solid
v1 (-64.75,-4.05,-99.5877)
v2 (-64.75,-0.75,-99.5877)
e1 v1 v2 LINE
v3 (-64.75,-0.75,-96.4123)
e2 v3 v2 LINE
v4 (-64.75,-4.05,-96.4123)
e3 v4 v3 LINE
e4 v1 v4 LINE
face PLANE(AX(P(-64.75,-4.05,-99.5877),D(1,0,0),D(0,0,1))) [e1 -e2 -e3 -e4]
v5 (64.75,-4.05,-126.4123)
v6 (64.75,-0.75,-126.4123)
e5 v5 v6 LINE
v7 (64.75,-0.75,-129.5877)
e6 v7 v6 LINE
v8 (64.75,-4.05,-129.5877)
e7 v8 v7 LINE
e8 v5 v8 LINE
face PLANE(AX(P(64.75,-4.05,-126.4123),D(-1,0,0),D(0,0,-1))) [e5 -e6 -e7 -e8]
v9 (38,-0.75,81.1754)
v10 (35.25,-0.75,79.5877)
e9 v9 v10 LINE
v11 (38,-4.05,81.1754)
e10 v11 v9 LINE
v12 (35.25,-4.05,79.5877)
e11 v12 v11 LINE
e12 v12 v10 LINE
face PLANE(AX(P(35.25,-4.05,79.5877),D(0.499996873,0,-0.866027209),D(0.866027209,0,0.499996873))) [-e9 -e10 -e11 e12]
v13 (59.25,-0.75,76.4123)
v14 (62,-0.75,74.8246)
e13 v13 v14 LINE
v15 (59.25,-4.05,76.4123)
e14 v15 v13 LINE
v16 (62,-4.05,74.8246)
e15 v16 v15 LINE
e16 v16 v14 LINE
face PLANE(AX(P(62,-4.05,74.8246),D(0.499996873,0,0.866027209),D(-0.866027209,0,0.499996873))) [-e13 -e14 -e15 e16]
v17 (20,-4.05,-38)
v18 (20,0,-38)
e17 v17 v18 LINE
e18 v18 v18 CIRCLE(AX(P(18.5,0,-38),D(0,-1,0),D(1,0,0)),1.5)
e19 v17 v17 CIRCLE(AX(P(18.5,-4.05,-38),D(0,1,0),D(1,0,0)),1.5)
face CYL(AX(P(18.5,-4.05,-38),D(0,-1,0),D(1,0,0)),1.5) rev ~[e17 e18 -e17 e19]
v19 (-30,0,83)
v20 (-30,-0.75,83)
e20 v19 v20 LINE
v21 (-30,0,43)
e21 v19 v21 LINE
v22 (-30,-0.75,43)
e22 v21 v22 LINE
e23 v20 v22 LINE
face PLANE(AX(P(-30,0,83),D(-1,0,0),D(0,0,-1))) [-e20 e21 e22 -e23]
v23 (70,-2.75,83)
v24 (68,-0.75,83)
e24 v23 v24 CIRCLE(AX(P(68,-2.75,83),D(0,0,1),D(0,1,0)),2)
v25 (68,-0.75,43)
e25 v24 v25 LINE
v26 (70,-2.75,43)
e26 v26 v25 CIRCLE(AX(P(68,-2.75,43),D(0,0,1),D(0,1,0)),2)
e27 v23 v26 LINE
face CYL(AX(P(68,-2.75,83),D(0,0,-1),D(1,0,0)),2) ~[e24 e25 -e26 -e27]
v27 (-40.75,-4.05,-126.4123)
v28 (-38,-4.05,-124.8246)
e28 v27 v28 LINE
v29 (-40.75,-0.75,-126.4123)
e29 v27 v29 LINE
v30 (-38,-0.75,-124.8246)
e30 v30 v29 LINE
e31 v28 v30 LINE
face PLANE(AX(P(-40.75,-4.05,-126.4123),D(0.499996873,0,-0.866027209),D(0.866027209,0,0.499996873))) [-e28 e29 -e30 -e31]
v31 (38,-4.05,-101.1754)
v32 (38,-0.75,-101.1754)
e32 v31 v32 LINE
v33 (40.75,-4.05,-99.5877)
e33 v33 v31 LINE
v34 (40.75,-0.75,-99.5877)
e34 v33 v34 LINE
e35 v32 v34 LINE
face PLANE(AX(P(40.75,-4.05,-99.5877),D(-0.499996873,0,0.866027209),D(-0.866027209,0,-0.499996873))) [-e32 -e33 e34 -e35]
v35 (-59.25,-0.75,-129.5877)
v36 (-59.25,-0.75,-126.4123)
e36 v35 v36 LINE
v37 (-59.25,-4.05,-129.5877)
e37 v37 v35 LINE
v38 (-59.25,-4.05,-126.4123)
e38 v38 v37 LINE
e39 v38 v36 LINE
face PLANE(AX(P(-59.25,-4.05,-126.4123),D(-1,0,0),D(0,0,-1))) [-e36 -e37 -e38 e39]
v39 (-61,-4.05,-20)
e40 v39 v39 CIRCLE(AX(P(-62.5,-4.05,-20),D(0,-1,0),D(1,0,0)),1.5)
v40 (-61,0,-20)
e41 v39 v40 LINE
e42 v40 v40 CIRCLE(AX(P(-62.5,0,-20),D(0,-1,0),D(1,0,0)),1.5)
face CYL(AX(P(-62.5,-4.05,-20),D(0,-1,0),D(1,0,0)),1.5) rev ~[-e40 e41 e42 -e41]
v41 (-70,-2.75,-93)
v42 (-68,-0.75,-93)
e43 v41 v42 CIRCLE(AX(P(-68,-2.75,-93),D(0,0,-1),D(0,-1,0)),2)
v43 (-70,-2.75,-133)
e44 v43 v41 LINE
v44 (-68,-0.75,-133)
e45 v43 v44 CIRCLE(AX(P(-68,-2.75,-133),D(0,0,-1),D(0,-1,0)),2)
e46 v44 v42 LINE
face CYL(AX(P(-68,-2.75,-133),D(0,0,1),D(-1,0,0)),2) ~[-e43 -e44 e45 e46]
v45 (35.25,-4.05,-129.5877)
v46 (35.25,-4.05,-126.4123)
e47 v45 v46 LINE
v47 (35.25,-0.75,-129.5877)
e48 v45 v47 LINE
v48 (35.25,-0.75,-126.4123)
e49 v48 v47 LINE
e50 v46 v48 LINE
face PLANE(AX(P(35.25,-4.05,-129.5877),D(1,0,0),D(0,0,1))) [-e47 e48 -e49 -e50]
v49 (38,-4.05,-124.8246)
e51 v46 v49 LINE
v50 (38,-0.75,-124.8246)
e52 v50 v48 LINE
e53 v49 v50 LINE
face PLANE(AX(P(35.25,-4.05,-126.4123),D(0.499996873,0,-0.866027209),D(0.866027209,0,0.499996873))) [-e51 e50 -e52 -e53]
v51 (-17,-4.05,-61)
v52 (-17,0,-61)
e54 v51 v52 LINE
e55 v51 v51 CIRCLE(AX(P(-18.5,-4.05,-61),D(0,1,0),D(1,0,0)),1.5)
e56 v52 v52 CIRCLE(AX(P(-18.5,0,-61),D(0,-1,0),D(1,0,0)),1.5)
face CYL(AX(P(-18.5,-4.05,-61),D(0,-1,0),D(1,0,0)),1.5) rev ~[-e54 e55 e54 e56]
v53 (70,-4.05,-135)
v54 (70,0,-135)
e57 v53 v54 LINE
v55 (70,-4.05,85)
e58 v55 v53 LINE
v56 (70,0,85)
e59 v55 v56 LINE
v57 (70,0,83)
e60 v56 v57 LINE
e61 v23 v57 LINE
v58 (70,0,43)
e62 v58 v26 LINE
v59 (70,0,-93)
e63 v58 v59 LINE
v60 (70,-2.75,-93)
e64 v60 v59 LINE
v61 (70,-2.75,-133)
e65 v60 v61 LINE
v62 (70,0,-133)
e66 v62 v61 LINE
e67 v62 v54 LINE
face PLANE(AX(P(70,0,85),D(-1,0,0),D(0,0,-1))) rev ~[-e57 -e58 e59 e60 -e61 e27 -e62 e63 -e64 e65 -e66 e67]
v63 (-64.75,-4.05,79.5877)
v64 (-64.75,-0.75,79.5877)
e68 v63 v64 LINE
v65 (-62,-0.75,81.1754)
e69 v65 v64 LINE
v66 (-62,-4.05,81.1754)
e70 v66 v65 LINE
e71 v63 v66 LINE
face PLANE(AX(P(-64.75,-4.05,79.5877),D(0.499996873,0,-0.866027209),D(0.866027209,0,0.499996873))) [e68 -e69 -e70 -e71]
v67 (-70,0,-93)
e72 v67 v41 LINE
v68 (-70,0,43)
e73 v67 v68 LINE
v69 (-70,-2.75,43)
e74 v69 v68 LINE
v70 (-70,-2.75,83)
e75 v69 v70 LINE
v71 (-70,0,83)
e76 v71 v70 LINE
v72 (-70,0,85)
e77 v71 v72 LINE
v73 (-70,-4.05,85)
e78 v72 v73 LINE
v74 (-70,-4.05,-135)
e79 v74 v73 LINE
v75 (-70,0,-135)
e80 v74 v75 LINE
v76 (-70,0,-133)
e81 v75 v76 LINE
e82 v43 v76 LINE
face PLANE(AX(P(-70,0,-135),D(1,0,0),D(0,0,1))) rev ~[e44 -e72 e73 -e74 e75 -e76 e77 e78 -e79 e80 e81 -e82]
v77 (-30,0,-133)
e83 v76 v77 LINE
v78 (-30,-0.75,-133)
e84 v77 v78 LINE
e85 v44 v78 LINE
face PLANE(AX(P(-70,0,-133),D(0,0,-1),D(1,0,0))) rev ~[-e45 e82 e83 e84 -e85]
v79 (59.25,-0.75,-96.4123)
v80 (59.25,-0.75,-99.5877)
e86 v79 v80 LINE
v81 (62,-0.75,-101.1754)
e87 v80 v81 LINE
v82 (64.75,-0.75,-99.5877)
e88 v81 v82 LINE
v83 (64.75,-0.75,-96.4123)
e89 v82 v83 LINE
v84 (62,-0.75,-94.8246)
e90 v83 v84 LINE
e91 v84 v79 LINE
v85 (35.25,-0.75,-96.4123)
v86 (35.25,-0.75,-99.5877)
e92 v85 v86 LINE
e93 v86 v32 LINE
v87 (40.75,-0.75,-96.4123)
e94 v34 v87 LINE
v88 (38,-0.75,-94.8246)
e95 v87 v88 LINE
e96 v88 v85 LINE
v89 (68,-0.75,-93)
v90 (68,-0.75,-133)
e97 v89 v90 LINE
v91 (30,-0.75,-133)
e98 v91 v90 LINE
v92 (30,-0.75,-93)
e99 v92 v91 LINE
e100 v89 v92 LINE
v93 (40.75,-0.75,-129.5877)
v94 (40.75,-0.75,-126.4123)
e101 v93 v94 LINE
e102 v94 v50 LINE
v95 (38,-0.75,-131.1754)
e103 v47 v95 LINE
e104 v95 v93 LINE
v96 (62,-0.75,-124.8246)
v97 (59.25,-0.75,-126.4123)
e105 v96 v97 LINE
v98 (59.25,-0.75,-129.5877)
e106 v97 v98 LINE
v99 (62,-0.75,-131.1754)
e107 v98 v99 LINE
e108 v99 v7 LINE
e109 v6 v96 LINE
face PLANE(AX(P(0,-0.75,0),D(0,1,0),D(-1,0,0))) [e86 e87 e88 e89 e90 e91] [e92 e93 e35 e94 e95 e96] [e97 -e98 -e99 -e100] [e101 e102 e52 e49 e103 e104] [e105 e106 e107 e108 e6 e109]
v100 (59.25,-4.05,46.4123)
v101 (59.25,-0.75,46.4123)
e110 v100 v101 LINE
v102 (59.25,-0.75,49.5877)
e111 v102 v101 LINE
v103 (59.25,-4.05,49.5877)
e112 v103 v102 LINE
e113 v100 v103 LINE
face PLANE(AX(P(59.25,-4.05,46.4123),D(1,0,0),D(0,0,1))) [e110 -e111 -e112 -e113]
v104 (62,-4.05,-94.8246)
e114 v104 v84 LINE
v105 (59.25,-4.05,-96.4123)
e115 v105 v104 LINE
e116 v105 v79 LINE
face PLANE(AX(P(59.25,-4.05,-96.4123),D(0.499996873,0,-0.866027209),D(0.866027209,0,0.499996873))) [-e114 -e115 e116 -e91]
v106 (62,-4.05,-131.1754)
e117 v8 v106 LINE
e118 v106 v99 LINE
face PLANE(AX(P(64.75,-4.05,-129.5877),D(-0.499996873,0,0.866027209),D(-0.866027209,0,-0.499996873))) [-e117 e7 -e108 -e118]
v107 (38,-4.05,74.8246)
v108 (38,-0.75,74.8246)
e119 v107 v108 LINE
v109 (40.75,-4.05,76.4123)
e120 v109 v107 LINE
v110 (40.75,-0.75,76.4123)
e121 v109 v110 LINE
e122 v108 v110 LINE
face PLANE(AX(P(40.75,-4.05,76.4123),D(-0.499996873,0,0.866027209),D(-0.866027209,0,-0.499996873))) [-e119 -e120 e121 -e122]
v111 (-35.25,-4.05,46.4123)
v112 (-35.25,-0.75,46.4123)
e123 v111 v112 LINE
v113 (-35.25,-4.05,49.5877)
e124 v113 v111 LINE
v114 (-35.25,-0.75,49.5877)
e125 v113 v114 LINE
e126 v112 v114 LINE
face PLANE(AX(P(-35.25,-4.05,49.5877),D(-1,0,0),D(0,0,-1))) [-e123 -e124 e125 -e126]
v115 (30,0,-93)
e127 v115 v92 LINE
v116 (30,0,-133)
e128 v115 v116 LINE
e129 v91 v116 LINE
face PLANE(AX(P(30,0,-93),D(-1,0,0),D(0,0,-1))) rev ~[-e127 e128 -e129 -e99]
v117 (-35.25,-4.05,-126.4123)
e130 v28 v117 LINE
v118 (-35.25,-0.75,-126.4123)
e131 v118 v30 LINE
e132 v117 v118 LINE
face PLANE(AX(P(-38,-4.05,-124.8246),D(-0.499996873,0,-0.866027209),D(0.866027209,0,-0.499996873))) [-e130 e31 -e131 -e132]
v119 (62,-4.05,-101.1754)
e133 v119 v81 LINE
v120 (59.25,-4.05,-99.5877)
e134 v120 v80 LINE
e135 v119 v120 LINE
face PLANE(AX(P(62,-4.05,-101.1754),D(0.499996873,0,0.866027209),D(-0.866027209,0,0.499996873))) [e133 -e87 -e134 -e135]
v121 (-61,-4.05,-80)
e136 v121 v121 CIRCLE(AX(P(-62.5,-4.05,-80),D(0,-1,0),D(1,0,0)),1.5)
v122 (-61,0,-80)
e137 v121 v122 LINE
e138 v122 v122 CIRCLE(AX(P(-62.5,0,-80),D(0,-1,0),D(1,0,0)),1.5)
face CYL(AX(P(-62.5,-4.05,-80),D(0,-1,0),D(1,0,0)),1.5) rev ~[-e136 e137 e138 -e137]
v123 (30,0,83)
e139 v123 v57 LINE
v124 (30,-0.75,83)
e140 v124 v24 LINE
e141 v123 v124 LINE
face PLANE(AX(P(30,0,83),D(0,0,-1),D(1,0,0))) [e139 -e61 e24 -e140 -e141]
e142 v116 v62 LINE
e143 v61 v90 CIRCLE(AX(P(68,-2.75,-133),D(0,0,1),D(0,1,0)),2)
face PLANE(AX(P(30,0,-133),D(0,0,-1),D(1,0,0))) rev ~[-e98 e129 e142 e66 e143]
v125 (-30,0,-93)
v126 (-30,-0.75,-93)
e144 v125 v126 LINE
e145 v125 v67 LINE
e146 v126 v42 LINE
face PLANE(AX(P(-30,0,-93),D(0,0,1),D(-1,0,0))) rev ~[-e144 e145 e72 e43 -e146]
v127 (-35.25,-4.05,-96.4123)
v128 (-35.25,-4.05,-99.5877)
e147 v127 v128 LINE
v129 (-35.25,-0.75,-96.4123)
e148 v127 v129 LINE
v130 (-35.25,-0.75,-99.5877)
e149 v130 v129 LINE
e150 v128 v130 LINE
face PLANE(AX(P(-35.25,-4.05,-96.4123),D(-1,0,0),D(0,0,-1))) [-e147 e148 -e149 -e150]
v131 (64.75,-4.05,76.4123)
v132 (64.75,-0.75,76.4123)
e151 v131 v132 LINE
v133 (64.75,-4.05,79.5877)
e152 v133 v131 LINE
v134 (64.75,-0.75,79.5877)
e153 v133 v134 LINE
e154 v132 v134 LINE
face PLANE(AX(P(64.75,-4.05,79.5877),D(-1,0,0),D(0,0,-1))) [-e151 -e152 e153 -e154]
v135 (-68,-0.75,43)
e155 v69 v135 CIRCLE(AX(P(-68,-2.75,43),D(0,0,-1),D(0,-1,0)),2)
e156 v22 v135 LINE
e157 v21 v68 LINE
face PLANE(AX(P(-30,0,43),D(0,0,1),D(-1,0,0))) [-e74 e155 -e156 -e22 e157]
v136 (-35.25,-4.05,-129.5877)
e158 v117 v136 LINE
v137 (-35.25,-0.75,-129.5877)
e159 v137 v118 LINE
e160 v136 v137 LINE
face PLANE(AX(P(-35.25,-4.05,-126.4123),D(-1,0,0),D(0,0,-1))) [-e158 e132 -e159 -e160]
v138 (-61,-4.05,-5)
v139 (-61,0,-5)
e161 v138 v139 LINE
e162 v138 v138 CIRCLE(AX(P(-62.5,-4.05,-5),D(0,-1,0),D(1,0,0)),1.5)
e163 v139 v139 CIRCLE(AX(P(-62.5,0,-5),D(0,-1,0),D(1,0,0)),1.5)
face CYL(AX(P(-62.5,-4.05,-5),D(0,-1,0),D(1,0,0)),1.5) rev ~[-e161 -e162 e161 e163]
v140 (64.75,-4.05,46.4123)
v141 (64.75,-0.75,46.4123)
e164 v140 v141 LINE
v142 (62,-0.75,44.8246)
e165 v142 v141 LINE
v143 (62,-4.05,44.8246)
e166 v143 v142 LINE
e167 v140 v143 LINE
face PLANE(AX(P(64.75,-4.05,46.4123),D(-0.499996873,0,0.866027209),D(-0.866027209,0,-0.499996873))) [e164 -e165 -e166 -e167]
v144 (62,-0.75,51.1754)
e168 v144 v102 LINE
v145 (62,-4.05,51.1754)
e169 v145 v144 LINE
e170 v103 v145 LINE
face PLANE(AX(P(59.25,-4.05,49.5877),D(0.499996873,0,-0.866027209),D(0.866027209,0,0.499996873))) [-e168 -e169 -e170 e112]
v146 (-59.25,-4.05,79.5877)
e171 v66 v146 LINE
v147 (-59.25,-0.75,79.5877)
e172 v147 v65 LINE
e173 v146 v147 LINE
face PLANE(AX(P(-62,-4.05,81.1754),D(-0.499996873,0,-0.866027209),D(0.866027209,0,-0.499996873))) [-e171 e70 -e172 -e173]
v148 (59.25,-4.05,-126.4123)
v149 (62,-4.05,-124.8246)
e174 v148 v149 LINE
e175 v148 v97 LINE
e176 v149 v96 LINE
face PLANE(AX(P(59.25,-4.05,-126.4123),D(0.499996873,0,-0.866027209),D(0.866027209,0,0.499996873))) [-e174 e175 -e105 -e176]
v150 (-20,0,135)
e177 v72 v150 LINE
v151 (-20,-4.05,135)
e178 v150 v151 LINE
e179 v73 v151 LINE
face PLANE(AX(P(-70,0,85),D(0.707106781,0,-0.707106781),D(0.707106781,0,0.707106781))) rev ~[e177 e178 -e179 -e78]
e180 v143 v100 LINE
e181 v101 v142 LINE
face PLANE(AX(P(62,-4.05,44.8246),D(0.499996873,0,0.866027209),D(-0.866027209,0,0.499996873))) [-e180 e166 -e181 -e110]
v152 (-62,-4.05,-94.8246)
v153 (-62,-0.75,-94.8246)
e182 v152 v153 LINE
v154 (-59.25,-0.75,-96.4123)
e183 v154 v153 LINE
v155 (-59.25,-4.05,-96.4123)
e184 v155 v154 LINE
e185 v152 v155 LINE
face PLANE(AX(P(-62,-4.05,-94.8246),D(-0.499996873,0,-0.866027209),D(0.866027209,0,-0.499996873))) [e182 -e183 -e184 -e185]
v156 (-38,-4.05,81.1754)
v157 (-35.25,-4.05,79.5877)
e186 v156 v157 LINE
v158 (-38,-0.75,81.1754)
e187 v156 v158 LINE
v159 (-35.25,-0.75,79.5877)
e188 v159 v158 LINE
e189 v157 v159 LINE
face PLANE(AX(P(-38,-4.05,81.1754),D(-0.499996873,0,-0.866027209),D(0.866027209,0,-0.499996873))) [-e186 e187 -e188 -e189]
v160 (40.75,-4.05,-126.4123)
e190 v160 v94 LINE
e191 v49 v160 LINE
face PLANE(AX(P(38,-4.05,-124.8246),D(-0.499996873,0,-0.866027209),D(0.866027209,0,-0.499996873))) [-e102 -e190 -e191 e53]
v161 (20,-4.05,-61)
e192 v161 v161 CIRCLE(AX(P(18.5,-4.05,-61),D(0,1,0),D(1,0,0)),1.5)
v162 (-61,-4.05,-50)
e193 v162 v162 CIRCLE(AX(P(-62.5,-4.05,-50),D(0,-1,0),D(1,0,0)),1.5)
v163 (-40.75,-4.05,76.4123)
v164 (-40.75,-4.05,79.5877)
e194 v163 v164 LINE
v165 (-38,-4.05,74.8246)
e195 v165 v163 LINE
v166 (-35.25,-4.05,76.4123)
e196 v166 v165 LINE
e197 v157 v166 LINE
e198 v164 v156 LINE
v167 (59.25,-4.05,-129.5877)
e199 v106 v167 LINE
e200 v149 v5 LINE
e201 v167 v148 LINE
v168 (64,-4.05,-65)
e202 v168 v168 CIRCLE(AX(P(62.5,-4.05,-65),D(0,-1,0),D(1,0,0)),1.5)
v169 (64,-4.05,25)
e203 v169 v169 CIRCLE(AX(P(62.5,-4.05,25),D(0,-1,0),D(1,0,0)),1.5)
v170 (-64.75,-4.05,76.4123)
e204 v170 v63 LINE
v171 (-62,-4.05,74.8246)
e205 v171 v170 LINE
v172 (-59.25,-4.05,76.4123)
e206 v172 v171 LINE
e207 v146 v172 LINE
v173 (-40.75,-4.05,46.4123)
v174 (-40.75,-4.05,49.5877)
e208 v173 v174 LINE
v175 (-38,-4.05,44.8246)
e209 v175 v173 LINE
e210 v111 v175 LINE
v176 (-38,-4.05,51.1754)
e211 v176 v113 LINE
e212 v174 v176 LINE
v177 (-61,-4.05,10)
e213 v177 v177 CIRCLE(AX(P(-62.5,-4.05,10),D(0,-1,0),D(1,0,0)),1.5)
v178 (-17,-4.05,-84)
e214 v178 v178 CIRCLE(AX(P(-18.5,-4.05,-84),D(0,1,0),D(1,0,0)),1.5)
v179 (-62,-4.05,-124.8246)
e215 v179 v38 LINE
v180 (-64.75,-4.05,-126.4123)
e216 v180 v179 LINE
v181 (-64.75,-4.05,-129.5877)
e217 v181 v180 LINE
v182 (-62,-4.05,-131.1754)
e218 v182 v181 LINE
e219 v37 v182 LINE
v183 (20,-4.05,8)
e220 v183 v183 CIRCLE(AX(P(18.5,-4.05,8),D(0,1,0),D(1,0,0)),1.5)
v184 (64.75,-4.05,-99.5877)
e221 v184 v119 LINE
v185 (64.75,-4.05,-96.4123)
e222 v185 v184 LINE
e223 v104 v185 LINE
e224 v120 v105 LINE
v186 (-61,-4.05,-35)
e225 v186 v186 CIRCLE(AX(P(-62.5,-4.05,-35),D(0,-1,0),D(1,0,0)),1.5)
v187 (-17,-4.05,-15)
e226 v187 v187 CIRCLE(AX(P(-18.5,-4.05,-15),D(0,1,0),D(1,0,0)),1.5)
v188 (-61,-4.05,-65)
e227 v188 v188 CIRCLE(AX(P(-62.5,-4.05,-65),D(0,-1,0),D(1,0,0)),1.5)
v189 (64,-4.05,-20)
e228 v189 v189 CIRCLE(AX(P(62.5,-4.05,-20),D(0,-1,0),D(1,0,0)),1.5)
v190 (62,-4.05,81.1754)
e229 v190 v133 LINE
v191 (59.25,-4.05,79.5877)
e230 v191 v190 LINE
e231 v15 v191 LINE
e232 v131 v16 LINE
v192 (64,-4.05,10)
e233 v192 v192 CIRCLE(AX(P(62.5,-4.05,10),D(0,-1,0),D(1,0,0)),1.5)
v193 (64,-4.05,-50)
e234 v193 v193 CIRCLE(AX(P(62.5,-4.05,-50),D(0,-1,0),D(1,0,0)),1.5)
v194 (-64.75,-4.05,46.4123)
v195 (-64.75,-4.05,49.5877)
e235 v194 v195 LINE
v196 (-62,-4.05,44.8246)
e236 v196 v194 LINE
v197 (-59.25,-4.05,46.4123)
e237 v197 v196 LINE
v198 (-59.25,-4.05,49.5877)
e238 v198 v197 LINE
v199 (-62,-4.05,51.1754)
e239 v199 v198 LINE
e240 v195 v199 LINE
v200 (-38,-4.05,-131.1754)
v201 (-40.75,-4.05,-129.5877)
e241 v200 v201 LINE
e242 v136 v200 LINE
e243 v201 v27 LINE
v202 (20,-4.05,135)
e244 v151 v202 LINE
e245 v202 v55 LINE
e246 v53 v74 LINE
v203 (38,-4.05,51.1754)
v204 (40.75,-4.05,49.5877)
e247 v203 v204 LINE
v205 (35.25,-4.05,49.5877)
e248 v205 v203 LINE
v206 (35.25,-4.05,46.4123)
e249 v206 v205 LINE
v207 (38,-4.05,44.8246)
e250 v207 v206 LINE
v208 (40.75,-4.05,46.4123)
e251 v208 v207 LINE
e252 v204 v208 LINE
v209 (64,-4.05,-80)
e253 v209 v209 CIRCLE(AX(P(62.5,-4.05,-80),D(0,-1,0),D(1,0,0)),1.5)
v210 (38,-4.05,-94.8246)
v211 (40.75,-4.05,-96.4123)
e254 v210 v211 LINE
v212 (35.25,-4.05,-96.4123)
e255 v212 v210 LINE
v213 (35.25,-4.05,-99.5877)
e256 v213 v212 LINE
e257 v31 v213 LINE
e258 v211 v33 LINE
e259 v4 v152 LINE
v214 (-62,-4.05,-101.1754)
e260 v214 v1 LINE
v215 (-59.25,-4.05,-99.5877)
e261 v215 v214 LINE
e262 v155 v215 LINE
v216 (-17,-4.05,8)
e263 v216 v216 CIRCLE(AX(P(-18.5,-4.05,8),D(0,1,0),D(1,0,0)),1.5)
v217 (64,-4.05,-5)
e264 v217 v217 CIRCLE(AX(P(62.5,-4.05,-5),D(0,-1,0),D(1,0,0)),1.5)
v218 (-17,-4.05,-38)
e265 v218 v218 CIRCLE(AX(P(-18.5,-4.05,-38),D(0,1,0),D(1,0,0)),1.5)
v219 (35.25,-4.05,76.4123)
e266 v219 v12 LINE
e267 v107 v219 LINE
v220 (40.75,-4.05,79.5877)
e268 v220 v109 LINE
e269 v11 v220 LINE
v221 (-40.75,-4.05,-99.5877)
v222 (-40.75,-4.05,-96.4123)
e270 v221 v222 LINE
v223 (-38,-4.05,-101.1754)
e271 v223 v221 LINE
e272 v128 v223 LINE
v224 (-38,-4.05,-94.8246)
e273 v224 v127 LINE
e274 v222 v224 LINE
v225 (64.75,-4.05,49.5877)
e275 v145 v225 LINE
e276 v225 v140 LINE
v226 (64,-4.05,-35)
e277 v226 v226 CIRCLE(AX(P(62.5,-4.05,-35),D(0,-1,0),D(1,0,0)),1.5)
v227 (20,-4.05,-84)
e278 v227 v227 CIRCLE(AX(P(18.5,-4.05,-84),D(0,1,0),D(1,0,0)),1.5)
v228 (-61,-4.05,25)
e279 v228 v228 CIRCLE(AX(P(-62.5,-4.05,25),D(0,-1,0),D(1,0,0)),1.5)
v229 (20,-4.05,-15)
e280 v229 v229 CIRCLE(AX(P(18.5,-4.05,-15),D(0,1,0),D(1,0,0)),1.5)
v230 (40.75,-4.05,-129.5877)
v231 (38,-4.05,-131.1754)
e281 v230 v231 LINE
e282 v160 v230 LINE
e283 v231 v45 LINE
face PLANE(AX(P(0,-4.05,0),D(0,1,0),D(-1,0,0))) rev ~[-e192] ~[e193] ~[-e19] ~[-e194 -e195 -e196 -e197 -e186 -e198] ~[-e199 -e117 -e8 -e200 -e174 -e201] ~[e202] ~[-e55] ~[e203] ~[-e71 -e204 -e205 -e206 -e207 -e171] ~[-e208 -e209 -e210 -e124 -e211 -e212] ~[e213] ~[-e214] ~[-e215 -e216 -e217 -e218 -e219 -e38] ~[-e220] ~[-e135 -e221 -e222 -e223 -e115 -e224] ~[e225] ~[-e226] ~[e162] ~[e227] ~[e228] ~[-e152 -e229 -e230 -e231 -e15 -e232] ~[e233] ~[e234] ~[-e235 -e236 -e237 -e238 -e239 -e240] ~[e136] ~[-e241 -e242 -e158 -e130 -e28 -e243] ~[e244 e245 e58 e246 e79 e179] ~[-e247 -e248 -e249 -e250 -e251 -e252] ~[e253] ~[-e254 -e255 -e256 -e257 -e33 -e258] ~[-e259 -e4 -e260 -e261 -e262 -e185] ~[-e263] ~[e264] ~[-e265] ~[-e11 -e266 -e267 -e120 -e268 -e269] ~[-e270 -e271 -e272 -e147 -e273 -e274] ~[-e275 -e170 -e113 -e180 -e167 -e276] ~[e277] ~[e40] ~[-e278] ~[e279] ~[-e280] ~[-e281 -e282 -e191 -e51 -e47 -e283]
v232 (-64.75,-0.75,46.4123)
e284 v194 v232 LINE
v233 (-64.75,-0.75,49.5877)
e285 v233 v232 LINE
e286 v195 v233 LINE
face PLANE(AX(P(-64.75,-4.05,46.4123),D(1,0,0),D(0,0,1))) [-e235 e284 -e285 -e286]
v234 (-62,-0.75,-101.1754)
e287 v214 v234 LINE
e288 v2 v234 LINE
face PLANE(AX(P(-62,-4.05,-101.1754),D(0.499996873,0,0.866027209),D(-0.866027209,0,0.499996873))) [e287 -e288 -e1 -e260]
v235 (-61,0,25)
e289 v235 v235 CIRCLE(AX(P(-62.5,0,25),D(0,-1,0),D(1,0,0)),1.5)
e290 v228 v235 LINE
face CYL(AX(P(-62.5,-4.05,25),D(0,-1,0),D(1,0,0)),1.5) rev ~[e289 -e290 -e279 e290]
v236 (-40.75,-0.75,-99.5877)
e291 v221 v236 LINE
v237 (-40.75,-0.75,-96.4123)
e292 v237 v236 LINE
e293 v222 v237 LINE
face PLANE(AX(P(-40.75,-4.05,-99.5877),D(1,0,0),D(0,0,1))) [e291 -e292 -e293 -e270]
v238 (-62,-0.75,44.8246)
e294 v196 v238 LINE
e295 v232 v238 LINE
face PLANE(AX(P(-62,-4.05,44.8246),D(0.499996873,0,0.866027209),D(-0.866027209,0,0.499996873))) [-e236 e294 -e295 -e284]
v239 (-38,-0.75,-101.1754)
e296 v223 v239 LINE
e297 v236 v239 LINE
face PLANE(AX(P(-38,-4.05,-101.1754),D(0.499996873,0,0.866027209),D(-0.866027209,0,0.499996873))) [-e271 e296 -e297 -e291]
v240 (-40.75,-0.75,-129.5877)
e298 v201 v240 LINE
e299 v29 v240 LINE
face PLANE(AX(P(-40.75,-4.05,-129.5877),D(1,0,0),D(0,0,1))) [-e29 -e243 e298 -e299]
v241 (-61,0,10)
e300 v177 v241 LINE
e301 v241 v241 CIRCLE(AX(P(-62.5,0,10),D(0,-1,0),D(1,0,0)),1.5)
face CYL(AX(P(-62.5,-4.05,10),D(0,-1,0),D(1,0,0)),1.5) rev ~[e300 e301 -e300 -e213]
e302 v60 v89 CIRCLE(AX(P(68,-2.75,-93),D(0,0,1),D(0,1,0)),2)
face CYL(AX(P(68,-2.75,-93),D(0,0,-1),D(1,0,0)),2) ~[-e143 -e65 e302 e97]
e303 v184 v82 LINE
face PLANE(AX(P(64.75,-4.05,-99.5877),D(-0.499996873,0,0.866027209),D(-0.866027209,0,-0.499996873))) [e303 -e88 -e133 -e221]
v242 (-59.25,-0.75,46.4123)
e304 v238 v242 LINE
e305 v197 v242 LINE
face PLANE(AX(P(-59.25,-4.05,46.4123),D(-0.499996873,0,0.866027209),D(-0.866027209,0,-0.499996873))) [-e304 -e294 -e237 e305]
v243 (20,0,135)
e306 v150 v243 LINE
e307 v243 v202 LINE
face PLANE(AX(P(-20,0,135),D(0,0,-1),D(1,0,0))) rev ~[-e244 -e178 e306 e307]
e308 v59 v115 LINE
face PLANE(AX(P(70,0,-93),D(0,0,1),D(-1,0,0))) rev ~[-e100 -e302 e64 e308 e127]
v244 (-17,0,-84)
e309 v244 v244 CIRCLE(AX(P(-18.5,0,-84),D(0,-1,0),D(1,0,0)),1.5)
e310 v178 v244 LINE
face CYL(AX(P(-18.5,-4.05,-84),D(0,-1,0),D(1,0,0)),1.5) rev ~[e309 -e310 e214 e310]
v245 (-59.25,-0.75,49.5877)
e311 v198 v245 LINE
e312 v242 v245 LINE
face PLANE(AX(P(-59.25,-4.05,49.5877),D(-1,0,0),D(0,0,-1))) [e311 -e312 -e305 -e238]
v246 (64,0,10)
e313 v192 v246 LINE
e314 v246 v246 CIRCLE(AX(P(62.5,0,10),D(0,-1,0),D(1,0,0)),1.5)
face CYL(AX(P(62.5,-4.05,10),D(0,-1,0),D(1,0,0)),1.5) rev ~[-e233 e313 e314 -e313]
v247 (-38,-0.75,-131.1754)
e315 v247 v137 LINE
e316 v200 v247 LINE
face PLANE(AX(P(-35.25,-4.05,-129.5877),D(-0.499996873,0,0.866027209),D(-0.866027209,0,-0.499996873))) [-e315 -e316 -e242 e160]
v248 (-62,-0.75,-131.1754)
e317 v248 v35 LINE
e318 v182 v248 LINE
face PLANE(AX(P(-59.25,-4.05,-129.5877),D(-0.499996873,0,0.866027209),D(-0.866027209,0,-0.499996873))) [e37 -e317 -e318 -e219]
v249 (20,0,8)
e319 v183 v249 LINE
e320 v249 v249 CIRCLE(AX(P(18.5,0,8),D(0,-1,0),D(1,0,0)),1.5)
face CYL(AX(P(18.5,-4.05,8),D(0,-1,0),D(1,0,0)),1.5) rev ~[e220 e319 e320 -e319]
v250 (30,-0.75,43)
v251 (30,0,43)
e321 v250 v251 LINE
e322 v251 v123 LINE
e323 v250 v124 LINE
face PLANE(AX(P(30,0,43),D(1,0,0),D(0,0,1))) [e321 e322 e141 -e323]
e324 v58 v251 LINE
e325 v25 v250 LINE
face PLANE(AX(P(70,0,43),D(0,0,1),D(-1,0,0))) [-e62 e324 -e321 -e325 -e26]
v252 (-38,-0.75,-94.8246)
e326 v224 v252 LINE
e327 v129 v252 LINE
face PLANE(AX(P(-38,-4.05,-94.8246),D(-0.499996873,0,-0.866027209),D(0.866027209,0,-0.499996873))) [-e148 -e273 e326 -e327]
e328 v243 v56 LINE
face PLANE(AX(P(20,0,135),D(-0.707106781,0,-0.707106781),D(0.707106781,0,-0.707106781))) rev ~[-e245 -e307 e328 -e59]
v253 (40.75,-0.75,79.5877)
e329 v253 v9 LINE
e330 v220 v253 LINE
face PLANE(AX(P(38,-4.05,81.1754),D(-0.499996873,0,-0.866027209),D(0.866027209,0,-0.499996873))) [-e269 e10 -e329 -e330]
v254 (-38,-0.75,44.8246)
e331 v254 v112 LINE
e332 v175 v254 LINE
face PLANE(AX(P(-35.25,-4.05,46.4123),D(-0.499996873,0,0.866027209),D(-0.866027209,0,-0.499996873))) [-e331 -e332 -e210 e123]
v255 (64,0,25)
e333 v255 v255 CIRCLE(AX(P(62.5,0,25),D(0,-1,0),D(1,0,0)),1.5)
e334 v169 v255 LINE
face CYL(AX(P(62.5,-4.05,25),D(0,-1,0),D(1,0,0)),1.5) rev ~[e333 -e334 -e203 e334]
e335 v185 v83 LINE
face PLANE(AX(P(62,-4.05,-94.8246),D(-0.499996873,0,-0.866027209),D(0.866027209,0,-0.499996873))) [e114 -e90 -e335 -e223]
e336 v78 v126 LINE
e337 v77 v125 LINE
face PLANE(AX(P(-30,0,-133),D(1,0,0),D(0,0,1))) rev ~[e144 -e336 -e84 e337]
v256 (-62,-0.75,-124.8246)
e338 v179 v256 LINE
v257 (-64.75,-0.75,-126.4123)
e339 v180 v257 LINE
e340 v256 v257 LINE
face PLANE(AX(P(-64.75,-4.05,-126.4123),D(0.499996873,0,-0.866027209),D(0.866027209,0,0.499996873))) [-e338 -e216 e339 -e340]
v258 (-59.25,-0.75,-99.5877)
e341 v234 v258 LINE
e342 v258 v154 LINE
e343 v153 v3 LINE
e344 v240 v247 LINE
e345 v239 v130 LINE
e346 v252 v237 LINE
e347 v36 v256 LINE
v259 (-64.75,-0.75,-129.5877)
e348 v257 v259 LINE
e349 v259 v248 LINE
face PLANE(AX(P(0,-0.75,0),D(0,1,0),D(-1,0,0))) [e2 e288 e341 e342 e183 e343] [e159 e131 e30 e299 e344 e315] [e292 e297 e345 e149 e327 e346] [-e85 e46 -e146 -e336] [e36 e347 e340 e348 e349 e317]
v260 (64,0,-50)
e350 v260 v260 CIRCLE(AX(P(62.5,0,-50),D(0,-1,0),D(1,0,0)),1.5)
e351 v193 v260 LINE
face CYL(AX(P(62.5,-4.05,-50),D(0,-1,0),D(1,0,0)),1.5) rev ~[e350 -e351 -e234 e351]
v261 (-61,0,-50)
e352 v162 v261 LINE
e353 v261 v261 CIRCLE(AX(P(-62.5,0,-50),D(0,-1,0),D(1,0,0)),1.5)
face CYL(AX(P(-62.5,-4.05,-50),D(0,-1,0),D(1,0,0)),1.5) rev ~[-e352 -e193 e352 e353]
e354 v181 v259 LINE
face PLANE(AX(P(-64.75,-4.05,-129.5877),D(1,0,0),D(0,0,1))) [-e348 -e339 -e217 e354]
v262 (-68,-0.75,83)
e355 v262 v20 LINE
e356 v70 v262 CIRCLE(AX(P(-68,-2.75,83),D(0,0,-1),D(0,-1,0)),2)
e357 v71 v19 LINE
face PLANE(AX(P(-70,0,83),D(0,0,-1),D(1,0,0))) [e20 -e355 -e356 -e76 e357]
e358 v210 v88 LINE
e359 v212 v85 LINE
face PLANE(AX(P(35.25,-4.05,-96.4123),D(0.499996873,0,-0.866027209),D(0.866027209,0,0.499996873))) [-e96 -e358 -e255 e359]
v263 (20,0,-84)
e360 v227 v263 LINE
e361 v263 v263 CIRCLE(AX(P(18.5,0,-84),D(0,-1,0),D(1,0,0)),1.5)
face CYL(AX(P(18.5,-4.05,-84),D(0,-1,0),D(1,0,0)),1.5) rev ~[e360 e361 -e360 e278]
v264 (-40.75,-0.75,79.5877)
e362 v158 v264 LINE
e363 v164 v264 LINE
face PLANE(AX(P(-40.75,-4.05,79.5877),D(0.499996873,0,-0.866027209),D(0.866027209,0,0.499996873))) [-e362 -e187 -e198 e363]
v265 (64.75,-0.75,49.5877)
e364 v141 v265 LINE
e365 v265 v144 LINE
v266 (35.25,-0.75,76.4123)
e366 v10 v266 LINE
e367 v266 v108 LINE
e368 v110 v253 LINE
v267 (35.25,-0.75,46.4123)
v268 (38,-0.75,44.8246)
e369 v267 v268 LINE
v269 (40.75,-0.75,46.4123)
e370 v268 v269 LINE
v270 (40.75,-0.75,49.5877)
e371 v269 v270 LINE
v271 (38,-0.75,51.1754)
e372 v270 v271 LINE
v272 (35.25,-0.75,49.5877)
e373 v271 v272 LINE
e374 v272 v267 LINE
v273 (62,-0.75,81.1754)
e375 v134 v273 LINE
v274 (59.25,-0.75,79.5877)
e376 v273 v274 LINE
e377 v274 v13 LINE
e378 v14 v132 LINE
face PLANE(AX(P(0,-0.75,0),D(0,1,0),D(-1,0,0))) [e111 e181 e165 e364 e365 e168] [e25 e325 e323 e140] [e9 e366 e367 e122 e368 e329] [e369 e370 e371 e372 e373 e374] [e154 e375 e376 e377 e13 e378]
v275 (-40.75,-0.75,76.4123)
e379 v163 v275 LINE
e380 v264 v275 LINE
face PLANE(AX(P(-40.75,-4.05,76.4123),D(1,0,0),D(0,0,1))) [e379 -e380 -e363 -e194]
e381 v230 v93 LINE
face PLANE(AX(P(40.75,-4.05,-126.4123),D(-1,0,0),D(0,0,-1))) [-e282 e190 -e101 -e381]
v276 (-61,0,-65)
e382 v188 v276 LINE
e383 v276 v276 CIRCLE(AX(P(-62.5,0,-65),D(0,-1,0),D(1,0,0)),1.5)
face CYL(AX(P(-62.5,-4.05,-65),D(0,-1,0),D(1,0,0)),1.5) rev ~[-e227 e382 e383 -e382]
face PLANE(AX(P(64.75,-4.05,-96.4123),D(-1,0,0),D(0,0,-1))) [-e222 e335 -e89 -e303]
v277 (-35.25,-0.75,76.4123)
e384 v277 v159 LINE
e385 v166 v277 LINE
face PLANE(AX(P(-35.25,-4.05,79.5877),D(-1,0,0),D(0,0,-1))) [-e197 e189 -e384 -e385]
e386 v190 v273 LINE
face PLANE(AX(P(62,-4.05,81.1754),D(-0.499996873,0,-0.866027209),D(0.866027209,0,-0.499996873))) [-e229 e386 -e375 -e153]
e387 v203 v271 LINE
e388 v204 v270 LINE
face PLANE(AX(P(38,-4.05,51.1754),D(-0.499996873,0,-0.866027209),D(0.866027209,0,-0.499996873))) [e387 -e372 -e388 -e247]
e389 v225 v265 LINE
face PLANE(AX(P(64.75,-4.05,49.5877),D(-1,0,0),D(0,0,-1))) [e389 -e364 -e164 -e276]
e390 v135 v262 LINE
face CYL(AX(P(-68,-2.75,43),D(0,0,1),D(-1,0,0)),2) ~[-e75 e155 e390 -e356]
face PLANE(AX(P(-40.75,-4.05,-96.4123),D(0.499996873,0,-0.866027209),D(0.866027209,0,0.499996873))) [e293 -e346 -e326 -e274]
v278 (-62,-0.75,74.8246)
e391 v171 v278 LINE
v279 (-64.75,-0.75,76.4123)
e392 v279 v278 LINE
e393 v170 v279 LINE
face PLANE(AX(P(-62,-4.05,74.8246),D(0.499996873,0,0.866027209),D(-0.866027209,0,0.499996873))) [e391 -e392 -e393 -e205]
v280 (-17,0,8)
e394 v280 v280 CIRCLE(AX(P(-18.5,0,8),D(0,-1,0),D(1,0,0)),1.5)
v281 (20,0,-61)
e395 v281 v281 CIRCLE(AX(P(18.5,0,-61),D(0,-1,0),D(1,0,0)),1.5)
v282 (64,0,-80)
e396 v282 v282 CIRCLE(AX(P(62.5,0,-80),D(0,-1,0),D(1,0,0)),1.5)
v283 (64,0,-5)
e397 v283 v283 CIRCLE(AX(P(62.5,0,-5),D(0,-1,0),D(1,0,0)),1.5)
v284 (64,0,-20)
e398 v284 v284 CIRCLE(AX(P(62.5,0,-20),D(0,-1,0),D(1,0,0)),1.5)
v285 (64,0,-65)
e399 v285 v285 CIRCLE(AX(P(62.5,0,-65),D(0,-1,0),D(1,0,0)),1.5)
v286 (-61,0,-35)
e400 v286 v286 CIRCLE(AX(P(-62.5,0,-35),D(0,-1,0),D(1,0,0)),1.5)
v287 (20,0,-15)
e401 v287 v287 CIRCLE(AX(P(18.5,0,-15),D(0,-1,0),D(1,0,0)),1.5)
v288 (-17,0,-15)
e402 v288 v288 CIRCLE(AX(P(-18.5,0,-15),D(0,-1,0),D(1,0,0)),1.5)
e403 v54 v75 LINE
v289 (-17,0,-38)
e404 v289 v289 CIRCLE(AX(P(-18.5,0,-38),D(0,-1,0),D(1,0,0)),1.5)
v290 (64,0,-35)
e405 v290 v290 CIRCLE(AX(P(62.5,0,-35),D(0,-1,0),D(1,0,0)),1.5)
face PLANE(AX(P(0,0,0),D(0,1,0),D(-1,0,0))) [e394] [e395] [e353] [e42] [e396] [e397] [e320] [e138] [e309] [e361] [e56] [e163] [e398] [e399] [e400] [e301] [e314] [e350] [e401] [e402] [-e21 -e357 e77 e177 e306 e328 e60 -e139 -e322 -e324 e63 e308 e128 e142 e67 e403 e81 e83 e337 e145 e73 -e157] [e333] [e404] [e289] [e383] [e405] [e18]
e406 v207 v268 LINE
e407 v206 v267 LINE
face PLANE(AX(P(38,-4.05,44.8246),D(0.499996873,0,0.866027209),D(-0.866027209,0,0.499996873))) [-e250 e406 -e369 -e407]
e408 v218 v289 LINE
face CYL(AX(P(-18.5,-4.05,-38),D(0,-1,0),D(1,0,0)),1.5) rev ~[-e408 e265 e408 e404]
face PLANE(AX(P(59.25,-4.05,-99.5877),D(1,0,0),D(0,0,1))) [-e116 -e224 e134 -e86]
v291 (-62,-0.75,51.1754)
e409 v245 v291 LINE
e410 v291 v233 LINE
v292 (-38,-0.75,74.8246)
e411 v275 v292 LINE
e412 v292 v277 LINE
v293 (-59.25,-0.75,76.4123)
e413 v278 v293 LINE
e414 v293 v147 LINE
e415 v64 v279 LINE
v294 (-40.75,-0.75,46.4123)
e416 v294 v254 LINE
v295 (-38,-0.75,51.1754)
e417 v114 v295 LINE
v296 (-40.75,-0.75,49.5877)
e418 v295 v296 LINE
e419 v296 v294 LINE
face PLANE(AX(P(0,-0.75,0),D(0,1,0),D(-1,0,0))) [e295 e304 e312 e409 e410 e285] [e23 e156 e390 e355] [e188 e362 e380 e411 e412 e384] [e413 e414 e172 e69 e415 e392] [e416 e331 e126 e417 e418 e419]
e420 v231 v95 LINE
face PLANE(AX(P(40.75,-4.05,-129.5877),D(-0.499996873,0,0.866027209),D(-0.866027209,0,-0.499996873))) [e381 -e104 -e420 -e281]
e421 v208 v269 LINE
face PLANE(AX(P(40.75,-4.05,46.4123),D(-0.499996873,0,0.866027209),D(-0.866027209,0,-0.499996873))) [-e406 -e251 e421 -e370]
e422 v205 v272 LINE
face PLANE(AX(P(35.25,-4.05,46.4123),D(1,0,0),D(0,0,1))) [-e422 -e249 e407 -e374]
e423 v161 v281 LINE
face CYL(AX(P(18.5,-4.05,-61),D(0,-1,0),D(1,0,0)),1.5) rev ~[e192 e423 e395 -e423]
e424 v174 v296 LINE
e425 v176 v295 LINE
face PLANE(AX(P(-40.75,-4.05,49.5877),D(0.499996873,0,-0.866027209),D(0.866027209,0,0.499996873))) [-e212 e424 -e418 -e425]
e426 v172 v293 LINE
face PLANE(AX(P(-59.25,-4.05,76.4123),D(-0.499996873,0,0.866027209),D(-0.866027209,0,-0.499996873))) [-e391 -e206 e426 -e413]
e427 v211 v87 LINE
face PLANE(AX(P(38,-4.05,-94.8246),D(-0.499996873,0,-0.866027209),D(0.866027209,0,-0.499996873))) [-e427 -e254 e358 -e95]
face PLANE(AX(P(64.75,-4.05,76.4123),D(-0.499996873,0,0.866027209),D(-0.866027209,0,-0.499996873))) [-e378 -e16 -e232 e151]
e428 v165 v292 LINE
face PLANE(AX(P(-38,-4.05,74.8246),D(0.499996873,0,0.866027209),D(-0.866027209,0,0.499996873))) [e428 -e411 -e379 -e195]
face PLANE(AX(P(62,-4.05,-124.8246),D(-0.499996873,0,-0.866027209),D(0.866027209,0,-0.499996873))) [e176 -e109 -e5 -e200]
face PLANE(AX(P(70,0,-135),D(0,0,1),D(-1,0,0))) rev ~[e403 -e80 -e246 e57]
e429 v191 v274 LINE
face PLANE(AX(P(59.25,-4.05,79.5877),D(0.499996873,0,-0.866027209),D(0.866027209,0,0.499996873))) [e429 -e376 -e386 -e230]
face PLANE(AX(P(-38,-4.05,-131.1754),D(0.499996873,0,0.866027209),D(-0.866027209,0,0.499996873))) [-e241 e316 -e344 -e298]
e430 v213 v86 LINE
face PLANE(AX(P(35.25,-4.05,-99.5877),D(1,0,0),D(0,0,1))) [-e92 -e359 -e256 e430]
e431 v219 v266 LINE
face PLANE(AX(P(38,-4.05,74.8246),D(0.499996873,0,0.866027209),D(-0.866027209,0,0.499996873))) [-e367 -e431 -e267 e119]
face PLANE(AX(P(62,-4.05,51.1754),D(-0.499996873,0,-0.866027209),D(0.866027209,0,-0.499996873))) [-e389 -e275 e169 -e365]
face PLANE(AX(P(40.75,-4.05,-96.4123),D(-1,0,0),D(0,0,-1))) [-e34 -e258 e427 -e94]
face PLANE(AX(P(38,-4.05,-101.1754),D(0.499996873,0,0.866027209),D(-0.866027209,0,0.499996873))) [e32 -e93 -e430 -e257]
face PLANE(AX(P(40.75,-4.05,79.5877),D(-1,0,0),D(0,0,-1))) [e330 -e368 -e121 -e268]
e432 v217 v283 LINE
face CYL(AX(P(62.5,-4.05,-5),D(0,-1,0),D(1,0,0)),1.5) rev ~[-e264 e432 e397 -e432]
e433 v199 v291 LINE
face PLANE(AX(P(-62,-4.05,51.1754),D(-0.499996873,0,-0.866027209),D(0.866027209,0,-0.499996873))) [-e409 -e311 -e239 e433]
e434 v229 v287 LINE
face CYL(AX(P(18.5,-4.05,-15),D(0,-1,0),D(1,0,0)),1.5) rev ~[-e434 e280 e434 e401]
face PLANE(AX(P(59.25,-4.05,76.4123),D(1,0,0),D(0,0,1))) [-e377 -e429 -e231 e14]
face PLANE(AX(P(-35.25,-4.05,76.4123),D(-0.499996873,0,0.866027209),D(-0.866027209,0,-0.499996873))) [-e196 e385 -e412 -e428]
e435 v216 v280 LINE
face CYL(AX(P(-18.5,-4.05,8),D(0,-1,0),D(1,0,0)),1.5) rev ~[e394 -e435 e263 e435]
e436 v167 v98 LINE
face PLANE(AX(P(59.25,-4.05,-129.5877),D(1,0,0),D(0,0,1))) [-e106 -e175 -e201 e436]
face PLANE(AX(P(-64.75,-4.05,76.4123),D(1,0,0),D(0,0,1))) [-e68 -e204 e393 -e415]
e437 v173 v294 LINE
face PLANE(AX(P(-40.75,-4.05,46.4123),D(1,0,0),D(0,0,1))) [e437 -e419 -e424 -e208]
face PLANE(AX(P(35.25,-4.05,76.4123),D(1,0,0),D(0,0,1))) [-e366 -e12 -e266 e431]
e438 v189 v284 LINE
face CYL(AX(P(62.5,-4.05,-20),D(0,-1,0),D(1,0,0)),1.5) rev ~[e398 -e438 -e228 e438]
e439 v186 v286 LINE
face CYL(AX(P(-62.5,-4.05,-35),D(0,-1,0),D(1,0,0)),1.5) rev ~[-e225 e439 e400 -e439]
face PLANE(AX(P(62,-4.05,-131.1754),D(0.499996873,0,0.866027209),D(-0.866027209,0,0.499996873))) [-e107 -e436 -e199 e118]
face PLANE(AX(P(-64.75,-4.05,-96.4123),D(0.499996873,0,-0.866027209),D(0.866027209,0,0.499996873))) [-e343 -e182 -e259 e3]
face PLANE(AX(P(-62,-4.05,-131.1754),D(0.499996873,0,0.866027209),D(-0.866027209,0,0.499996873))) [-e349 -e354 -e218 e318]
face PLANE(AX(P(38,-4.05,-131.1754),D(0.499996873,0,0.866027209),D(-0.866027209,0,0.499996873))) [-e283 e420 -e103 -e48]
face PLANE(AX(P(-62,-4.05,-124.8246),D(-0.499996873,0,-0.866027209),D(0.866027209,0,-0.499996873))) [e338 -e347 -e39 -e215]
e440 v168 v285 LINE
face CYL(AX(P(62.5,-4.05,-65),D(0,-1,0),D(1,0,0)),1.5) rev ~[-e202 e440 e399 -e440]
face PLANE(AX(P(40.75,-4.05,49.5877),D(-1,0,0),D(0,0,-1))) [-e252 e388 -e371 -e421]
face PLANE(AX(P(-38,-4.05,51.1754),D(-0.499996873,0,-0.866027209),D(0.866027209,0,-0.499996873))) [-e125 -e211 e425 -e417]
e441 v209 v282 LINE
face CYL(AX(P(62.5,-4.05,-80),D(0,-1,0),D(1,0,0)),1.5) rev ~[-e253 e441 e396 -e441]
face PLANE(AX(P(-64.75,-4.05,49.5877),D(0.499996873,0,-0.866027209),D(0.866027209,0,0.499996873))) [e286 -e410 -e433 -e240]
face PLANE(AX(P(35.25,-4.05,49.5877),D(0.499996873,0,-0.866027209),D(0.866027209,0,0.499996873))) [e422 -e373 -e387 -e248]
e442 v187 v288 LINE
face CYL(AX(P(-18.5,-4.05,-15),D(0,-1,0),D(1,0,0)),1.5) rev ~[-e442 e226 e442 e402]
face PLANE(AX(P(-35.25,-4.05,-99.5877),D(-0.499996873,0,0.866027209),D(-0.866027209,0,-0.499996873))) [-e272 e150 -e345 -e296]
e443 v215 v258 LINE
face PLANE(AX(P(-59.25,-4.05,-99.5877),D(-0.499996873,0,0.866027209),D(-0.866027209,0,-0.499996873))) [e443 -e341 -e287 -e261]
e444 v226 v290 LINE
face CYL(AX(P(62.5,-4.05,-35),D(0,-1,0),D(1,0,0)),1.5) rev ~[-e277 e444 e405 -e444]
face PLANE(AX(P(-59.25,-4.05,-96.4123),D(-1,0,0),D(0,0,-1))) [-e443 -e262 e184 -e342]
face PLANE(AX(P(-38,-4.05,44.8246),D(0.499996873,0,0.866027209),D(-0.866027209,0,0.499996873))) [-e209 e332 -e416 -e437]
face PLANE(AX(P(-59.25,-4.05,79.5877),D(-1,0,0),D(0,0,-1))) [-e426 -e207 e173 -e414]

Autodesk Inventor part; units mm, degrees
ref_plane "YZ Plane" through (0, 0, 0) normal (1, 0, 0) x (0, 1, 0)
ref_plane "XZ Plane" through (0, 0, 0) normal (0, 1, 0) x (-1, 0, 0)
ref_plane "XY Plane" through (0, 0, 0) normal (0, 0, 1) x (1, 0, 0)
sketch "Sketch1" plane through (0, 0, 0) normal (0, 1, 0) x (-1, 0, 0)
  line L0 (-70, 135) -> (-70, -135)
  line L1 (-70, -135) -> (70, -135)
  line L2 (70, -135) -> (70, 135)
  line L3 (70, 135) -> (-70, 135)
  line L4 (-70, 135) -> (70, -135) construction
  line L5 (-70, -135) -> (70, 135) construction
  line L6 (70, 85) -> (20, 135)
  line L7 (-20, 135) -> (-70, 85)
  point P0 (0, 0)
  dimension "d0" = 140
  dimension "d1" = 270
  dimension "d2" = 40
  dimension "d3" = 50
  dimension "d4" = 220
extrude "Extrusion1" add sketch "Sketch1" along normal blind 4.05 and the other way blind 4.05 contours L7 L3 L6 L2 L1 L0
sketch "Sketch2" plane through (0, 0, 0) normal (0, 1, 0) x (-1, 0, 0)
  line L0 (70, -135) -> (70, 85) projected
  line L1 (70, 85) -> (20, 135) projected
  line L2 (20, 135) -> (-20, 135) projected
  line L3 (-20, 135) -> (-70, 85) projected
  line L4 (-70, 85) -> (-70, -135) projected
  line L5 (-70, -135) -> (70, -135) projected
  line L6 (70, 83) -> (30, 83)
  line L7 (30, 83) -> (30, 43)
  line L8 (30, 43) -> (70, 43)
  line L9 (70, 43) -> (70, 83)
  line L10 (70, 85) -> (70, -135) projected
  line L11 (70, -133) -> (30, -133)
  line L12 (30, -133) -> (30, -93)
  line L13 (30, -93) -> (70, -93)
  line L14 (70, -93) -> (70, -133)
  line L15 (-30, 43) -> (-30, 83)
  line L16 (-70, 43) -> (-30, 43)
  line L17 (-30, 83) -> (-70, 83)
  line L18 (-70, 83) -> (-70, 43)
  line L19 (-30, -93) -> (-30, -133)
  line L20 (-70, -93) -> (-30, -93)
  line L21 (-30, -133) -> (-70, -133)
  line L22 (-70, -133) -> (-70, -93)
  point P0 (0, 0)
  point P1 (50, 83)
  point P2 (50, -133)
  point P3 (-50, 83)
  point P4 (-50, -133)
  dimension "d11" = 40
  dimension "d12" = 40
  dimension "d13" = 2
  dimension "d14" = 2
  dimension "d15" = 40
  dimension "d16" = 40
  dimension "d19" = 100
extrude "Extrusion2" cut sketch "Sketch2" along normal blind 0.75 and the other way blind 0.75 contours L11 L12 L13 L0 | L4 L20 L19 L21 | L8 L7 L6 L0 | L4 L17 L15 L16
sketch "Sketch3" plane through (0, 0, 0) normal (0, 1, 0) x (-1, 0, 0)
  line L0 (70, -135) -> (70, 85) projected
  line L1 (70, 85) -> (20, 135) projected
  line L2 (20, 135) -> (-20, 135) projected
  line L3 (-20, 135) -> (-70, 85) projected
  line L4 (-70, 85) -> (-70, -135) projected
  line L5 (-70, -135) -> (70, -135) projected
  point P0 (0, 0)
extrude "Extrusion3" cut sketch "Sketch3" along normal up to surface (4.05 mm away)
fillet "Fillet2" radius 2 4 edges at (70, -0.75, 63) (70, -0.75, -113) (-70, -0.75, 63) (-70, -0.75, -113)
sketch "Sketch4" plane through (0, -4.05, 0) normal (0, -1, 0) x (1, 0, 0)
  line L0 (30, -93) -> (70, -93) projected
  line L1 (30, -133) -> (30, -93) projected
  line L2 (70, -133) -> (30, -133) projected
  line L3 (70, -135) -> (70, -133) projected
  line L4 (-70, -135) -> (70, -135) projected
  line L5 (-70, -133) -> (-70, -135) projected
  line L6 (-30, -133) -> (-70, -133) projected
  line L7 (-30, -93) -> (-30, -133) projected
  line L8 (-70, -93) -> (-30, -93) projected
  line L9 (-70, 43) -> (-70, -93) projected
  line L10 (-30, 43) -> (-70, 43) projected
  line L11 (-30, 83) -> (-30, 43) projected
  line L12 (-70, 83) -> (-30, 83) projected
  line L13 (-70, 85) -> (-70, 83) projected
  line L14 (-20, 135) -> (-70, 85) projected
  line L15 (20, 135) -> (-20, 135) projected
  line L16 (70, 85) -> (20, 135) projected
  line L17 (70, 83) -> (70, 85) projected
  line L18 (30, 83) -> (70, 83) projected
  line L19 (30, 43) -> (30, 83) projected
  line L20 (70, 43) -> (30, 43) projected
  line L21 (70, -93) -> (70, 43) projected
  line L22 (62, 78) -> (38, 78)
  line L23 (38, 78) -> (38, 48)
  line L24 (38, 48) -> (62, 48)
  line L25 (62, 48) -> (62, 78)
  line L26 (35.25, 49.5877) -> (38, 51.1754)
  line L27 (38, 51.1754) -> (40.75, 49.5877)
  line L28 (40.75, 49.5877) -> (40.75, 46.4123)
  line L29 (40.75, 46.4123) -> (38, 44.8246)
  line L30 (38, 44.8246) -> (35.25, 46.4123)
  line L31 (35.25, 46.4123) -> (35.25, 49.5877)
  point P0 (0, 0)
  point P1 (35.25, 48)
  dimension "d32" = 24
  dimension "d33" = 30
  dimension "d34" = 5
  dimension "d35" = 8
  dimension "d36" = 5.5
extrude "Extrusion4" cut sketch "Sketch4" against normal up to surface (4.05 mm away) contours L27 L28 L24 L23 | L23 L24 L28 L29 L30 L31 L26
pattern_linear "Rectangular Pattern1" count 2 spacing 30 along (0, 0, 1) count 2 spacing 24 along (1, 0, 0) of "Extrusion4"
pattern_linear "Rectangular Pattern2" count 2 spacing 176 along (0, 0, -1) count 2 spacing 100 along (-1, 0, 0) of "Extrusion4", "Rectangular Pattern1"
sketch "Sketch6" plane through (0, -4.05, 0) normal (0, -1, 0) x (1, 0, 0)
  line L0 (-70, -135) -> (70, -135) projected
  line L1 (-20, -135) -> (20, -135)
  line L2 (20, -135) -> (20, -132)
  line L3 (20, -132) -> (-20, -132)
  line L4 (-20, -132) -> (-20, -135)
  point P0 (0, 0)
  point P1 (-20, -133.5)
  point P2 (20, -133.5)
  point P3 (0, -135)
  point P4 (20, -135)
  dimension "d51" = 40
  dimension "d52" = 20
  dimension "d53" = 3
extrude "Extrusion5" add sketch "Sketch6" along normal blind 3
sketch "Sketch7" plane through (0, -4.05, 0) normal (0, -1, 0) x (1, 0, 0)
  line L0 (70, -93) -> (70, 43) projected
  line L1 (70, 13) -> (-70, 13)
  line L2 (-70, 85) -> (-70, -135) projected
  line L3 (20, -135) -> (70, -135) projected
  line L4 (18.5, 8) -> (-18.5, 8)
  line L5 (-18.5, 8) -> (-18.5, -84)
  line L6 (-18.5, -84) -> (18.5, -84)
  line L7 (18.5, -84) -> (18.5, 8)
  line L8 (-20, -132) -> (20, -132) projected
  line L9 (20, -132) -> (-20, -132) projected
  circle A0 centre (18.5, 8) radius 1.5
  point P0 (0, 0)
  point P1 (0, -84)
  point P2 (0, -132)
  point P3 (0, -132)
  dimension "d56" = 148
  dimension "d57" = 5
  dimension "d58" = 37
  dimension "d59" = 92
  dimension "d60" = 3
extrude "Extrusion6" cut sketch "Sketch7" against normal up to next contours L7 A0 L4 | L4 A0 L7
pattern_linear "Rectangular Pattern3" count 5 spacing 23 along (0, 0, -1) count 2 spacing 37 along (-1, 0, 0) of "Extrusion6"
sketch "Sketch8" plane through (0, -4.05, 0) normal (0, -1, 0) x (1, 0, 0)
  line L0 (20, -135) -> (70, -135) projected
  line L1 (70, -135) -> (70, 85) projected
  line L2 (-70, -135) -> (-20, -135) projected
  line L3 (-70, 85) -> (-70, -135) projected
  circle A0 centre (62.5, -80) radius 1.5
  circle A1 centre (-62.5, -80) radius 1.5
  point P0 (0, 0)
  dimension "d69" = 55
  dimension "d70" = 7.5
  dimension "d71" = 55
  dimension "d72" = 7.5
  dimension "d73" = 3
  dimension "d74" = 3
extrude "Extrusion7" cut sketch "Sketch8" against normal up to next
pattern_linear "Rectangular Pattern4" count 8 spacing 15 along (0, 0, 1) of "Extrusion7"
sketch "Sketch9" plane through (70, 0, -135) normal (0, 0, -1) x (-1, 0, 0)
  line L0 (90, -4.05) -> (87, -4.05) projected
  line L1 (50, -4.05) -> (50, -7.05) projected
  line L2 (90, -4.05) -> (50, -4.05)
  line L3 (50, -4.05) -> (50, -7.05)
  line L4 (50, -7.05) -> (90, -7.05)
  line L5 (90, -7.05) -> (90, -4.05)
  point P0 (70, 0)
extrude "Extrusion8" cut sketch "Sketch9" against normal up to next
properties part number "upper_base"
